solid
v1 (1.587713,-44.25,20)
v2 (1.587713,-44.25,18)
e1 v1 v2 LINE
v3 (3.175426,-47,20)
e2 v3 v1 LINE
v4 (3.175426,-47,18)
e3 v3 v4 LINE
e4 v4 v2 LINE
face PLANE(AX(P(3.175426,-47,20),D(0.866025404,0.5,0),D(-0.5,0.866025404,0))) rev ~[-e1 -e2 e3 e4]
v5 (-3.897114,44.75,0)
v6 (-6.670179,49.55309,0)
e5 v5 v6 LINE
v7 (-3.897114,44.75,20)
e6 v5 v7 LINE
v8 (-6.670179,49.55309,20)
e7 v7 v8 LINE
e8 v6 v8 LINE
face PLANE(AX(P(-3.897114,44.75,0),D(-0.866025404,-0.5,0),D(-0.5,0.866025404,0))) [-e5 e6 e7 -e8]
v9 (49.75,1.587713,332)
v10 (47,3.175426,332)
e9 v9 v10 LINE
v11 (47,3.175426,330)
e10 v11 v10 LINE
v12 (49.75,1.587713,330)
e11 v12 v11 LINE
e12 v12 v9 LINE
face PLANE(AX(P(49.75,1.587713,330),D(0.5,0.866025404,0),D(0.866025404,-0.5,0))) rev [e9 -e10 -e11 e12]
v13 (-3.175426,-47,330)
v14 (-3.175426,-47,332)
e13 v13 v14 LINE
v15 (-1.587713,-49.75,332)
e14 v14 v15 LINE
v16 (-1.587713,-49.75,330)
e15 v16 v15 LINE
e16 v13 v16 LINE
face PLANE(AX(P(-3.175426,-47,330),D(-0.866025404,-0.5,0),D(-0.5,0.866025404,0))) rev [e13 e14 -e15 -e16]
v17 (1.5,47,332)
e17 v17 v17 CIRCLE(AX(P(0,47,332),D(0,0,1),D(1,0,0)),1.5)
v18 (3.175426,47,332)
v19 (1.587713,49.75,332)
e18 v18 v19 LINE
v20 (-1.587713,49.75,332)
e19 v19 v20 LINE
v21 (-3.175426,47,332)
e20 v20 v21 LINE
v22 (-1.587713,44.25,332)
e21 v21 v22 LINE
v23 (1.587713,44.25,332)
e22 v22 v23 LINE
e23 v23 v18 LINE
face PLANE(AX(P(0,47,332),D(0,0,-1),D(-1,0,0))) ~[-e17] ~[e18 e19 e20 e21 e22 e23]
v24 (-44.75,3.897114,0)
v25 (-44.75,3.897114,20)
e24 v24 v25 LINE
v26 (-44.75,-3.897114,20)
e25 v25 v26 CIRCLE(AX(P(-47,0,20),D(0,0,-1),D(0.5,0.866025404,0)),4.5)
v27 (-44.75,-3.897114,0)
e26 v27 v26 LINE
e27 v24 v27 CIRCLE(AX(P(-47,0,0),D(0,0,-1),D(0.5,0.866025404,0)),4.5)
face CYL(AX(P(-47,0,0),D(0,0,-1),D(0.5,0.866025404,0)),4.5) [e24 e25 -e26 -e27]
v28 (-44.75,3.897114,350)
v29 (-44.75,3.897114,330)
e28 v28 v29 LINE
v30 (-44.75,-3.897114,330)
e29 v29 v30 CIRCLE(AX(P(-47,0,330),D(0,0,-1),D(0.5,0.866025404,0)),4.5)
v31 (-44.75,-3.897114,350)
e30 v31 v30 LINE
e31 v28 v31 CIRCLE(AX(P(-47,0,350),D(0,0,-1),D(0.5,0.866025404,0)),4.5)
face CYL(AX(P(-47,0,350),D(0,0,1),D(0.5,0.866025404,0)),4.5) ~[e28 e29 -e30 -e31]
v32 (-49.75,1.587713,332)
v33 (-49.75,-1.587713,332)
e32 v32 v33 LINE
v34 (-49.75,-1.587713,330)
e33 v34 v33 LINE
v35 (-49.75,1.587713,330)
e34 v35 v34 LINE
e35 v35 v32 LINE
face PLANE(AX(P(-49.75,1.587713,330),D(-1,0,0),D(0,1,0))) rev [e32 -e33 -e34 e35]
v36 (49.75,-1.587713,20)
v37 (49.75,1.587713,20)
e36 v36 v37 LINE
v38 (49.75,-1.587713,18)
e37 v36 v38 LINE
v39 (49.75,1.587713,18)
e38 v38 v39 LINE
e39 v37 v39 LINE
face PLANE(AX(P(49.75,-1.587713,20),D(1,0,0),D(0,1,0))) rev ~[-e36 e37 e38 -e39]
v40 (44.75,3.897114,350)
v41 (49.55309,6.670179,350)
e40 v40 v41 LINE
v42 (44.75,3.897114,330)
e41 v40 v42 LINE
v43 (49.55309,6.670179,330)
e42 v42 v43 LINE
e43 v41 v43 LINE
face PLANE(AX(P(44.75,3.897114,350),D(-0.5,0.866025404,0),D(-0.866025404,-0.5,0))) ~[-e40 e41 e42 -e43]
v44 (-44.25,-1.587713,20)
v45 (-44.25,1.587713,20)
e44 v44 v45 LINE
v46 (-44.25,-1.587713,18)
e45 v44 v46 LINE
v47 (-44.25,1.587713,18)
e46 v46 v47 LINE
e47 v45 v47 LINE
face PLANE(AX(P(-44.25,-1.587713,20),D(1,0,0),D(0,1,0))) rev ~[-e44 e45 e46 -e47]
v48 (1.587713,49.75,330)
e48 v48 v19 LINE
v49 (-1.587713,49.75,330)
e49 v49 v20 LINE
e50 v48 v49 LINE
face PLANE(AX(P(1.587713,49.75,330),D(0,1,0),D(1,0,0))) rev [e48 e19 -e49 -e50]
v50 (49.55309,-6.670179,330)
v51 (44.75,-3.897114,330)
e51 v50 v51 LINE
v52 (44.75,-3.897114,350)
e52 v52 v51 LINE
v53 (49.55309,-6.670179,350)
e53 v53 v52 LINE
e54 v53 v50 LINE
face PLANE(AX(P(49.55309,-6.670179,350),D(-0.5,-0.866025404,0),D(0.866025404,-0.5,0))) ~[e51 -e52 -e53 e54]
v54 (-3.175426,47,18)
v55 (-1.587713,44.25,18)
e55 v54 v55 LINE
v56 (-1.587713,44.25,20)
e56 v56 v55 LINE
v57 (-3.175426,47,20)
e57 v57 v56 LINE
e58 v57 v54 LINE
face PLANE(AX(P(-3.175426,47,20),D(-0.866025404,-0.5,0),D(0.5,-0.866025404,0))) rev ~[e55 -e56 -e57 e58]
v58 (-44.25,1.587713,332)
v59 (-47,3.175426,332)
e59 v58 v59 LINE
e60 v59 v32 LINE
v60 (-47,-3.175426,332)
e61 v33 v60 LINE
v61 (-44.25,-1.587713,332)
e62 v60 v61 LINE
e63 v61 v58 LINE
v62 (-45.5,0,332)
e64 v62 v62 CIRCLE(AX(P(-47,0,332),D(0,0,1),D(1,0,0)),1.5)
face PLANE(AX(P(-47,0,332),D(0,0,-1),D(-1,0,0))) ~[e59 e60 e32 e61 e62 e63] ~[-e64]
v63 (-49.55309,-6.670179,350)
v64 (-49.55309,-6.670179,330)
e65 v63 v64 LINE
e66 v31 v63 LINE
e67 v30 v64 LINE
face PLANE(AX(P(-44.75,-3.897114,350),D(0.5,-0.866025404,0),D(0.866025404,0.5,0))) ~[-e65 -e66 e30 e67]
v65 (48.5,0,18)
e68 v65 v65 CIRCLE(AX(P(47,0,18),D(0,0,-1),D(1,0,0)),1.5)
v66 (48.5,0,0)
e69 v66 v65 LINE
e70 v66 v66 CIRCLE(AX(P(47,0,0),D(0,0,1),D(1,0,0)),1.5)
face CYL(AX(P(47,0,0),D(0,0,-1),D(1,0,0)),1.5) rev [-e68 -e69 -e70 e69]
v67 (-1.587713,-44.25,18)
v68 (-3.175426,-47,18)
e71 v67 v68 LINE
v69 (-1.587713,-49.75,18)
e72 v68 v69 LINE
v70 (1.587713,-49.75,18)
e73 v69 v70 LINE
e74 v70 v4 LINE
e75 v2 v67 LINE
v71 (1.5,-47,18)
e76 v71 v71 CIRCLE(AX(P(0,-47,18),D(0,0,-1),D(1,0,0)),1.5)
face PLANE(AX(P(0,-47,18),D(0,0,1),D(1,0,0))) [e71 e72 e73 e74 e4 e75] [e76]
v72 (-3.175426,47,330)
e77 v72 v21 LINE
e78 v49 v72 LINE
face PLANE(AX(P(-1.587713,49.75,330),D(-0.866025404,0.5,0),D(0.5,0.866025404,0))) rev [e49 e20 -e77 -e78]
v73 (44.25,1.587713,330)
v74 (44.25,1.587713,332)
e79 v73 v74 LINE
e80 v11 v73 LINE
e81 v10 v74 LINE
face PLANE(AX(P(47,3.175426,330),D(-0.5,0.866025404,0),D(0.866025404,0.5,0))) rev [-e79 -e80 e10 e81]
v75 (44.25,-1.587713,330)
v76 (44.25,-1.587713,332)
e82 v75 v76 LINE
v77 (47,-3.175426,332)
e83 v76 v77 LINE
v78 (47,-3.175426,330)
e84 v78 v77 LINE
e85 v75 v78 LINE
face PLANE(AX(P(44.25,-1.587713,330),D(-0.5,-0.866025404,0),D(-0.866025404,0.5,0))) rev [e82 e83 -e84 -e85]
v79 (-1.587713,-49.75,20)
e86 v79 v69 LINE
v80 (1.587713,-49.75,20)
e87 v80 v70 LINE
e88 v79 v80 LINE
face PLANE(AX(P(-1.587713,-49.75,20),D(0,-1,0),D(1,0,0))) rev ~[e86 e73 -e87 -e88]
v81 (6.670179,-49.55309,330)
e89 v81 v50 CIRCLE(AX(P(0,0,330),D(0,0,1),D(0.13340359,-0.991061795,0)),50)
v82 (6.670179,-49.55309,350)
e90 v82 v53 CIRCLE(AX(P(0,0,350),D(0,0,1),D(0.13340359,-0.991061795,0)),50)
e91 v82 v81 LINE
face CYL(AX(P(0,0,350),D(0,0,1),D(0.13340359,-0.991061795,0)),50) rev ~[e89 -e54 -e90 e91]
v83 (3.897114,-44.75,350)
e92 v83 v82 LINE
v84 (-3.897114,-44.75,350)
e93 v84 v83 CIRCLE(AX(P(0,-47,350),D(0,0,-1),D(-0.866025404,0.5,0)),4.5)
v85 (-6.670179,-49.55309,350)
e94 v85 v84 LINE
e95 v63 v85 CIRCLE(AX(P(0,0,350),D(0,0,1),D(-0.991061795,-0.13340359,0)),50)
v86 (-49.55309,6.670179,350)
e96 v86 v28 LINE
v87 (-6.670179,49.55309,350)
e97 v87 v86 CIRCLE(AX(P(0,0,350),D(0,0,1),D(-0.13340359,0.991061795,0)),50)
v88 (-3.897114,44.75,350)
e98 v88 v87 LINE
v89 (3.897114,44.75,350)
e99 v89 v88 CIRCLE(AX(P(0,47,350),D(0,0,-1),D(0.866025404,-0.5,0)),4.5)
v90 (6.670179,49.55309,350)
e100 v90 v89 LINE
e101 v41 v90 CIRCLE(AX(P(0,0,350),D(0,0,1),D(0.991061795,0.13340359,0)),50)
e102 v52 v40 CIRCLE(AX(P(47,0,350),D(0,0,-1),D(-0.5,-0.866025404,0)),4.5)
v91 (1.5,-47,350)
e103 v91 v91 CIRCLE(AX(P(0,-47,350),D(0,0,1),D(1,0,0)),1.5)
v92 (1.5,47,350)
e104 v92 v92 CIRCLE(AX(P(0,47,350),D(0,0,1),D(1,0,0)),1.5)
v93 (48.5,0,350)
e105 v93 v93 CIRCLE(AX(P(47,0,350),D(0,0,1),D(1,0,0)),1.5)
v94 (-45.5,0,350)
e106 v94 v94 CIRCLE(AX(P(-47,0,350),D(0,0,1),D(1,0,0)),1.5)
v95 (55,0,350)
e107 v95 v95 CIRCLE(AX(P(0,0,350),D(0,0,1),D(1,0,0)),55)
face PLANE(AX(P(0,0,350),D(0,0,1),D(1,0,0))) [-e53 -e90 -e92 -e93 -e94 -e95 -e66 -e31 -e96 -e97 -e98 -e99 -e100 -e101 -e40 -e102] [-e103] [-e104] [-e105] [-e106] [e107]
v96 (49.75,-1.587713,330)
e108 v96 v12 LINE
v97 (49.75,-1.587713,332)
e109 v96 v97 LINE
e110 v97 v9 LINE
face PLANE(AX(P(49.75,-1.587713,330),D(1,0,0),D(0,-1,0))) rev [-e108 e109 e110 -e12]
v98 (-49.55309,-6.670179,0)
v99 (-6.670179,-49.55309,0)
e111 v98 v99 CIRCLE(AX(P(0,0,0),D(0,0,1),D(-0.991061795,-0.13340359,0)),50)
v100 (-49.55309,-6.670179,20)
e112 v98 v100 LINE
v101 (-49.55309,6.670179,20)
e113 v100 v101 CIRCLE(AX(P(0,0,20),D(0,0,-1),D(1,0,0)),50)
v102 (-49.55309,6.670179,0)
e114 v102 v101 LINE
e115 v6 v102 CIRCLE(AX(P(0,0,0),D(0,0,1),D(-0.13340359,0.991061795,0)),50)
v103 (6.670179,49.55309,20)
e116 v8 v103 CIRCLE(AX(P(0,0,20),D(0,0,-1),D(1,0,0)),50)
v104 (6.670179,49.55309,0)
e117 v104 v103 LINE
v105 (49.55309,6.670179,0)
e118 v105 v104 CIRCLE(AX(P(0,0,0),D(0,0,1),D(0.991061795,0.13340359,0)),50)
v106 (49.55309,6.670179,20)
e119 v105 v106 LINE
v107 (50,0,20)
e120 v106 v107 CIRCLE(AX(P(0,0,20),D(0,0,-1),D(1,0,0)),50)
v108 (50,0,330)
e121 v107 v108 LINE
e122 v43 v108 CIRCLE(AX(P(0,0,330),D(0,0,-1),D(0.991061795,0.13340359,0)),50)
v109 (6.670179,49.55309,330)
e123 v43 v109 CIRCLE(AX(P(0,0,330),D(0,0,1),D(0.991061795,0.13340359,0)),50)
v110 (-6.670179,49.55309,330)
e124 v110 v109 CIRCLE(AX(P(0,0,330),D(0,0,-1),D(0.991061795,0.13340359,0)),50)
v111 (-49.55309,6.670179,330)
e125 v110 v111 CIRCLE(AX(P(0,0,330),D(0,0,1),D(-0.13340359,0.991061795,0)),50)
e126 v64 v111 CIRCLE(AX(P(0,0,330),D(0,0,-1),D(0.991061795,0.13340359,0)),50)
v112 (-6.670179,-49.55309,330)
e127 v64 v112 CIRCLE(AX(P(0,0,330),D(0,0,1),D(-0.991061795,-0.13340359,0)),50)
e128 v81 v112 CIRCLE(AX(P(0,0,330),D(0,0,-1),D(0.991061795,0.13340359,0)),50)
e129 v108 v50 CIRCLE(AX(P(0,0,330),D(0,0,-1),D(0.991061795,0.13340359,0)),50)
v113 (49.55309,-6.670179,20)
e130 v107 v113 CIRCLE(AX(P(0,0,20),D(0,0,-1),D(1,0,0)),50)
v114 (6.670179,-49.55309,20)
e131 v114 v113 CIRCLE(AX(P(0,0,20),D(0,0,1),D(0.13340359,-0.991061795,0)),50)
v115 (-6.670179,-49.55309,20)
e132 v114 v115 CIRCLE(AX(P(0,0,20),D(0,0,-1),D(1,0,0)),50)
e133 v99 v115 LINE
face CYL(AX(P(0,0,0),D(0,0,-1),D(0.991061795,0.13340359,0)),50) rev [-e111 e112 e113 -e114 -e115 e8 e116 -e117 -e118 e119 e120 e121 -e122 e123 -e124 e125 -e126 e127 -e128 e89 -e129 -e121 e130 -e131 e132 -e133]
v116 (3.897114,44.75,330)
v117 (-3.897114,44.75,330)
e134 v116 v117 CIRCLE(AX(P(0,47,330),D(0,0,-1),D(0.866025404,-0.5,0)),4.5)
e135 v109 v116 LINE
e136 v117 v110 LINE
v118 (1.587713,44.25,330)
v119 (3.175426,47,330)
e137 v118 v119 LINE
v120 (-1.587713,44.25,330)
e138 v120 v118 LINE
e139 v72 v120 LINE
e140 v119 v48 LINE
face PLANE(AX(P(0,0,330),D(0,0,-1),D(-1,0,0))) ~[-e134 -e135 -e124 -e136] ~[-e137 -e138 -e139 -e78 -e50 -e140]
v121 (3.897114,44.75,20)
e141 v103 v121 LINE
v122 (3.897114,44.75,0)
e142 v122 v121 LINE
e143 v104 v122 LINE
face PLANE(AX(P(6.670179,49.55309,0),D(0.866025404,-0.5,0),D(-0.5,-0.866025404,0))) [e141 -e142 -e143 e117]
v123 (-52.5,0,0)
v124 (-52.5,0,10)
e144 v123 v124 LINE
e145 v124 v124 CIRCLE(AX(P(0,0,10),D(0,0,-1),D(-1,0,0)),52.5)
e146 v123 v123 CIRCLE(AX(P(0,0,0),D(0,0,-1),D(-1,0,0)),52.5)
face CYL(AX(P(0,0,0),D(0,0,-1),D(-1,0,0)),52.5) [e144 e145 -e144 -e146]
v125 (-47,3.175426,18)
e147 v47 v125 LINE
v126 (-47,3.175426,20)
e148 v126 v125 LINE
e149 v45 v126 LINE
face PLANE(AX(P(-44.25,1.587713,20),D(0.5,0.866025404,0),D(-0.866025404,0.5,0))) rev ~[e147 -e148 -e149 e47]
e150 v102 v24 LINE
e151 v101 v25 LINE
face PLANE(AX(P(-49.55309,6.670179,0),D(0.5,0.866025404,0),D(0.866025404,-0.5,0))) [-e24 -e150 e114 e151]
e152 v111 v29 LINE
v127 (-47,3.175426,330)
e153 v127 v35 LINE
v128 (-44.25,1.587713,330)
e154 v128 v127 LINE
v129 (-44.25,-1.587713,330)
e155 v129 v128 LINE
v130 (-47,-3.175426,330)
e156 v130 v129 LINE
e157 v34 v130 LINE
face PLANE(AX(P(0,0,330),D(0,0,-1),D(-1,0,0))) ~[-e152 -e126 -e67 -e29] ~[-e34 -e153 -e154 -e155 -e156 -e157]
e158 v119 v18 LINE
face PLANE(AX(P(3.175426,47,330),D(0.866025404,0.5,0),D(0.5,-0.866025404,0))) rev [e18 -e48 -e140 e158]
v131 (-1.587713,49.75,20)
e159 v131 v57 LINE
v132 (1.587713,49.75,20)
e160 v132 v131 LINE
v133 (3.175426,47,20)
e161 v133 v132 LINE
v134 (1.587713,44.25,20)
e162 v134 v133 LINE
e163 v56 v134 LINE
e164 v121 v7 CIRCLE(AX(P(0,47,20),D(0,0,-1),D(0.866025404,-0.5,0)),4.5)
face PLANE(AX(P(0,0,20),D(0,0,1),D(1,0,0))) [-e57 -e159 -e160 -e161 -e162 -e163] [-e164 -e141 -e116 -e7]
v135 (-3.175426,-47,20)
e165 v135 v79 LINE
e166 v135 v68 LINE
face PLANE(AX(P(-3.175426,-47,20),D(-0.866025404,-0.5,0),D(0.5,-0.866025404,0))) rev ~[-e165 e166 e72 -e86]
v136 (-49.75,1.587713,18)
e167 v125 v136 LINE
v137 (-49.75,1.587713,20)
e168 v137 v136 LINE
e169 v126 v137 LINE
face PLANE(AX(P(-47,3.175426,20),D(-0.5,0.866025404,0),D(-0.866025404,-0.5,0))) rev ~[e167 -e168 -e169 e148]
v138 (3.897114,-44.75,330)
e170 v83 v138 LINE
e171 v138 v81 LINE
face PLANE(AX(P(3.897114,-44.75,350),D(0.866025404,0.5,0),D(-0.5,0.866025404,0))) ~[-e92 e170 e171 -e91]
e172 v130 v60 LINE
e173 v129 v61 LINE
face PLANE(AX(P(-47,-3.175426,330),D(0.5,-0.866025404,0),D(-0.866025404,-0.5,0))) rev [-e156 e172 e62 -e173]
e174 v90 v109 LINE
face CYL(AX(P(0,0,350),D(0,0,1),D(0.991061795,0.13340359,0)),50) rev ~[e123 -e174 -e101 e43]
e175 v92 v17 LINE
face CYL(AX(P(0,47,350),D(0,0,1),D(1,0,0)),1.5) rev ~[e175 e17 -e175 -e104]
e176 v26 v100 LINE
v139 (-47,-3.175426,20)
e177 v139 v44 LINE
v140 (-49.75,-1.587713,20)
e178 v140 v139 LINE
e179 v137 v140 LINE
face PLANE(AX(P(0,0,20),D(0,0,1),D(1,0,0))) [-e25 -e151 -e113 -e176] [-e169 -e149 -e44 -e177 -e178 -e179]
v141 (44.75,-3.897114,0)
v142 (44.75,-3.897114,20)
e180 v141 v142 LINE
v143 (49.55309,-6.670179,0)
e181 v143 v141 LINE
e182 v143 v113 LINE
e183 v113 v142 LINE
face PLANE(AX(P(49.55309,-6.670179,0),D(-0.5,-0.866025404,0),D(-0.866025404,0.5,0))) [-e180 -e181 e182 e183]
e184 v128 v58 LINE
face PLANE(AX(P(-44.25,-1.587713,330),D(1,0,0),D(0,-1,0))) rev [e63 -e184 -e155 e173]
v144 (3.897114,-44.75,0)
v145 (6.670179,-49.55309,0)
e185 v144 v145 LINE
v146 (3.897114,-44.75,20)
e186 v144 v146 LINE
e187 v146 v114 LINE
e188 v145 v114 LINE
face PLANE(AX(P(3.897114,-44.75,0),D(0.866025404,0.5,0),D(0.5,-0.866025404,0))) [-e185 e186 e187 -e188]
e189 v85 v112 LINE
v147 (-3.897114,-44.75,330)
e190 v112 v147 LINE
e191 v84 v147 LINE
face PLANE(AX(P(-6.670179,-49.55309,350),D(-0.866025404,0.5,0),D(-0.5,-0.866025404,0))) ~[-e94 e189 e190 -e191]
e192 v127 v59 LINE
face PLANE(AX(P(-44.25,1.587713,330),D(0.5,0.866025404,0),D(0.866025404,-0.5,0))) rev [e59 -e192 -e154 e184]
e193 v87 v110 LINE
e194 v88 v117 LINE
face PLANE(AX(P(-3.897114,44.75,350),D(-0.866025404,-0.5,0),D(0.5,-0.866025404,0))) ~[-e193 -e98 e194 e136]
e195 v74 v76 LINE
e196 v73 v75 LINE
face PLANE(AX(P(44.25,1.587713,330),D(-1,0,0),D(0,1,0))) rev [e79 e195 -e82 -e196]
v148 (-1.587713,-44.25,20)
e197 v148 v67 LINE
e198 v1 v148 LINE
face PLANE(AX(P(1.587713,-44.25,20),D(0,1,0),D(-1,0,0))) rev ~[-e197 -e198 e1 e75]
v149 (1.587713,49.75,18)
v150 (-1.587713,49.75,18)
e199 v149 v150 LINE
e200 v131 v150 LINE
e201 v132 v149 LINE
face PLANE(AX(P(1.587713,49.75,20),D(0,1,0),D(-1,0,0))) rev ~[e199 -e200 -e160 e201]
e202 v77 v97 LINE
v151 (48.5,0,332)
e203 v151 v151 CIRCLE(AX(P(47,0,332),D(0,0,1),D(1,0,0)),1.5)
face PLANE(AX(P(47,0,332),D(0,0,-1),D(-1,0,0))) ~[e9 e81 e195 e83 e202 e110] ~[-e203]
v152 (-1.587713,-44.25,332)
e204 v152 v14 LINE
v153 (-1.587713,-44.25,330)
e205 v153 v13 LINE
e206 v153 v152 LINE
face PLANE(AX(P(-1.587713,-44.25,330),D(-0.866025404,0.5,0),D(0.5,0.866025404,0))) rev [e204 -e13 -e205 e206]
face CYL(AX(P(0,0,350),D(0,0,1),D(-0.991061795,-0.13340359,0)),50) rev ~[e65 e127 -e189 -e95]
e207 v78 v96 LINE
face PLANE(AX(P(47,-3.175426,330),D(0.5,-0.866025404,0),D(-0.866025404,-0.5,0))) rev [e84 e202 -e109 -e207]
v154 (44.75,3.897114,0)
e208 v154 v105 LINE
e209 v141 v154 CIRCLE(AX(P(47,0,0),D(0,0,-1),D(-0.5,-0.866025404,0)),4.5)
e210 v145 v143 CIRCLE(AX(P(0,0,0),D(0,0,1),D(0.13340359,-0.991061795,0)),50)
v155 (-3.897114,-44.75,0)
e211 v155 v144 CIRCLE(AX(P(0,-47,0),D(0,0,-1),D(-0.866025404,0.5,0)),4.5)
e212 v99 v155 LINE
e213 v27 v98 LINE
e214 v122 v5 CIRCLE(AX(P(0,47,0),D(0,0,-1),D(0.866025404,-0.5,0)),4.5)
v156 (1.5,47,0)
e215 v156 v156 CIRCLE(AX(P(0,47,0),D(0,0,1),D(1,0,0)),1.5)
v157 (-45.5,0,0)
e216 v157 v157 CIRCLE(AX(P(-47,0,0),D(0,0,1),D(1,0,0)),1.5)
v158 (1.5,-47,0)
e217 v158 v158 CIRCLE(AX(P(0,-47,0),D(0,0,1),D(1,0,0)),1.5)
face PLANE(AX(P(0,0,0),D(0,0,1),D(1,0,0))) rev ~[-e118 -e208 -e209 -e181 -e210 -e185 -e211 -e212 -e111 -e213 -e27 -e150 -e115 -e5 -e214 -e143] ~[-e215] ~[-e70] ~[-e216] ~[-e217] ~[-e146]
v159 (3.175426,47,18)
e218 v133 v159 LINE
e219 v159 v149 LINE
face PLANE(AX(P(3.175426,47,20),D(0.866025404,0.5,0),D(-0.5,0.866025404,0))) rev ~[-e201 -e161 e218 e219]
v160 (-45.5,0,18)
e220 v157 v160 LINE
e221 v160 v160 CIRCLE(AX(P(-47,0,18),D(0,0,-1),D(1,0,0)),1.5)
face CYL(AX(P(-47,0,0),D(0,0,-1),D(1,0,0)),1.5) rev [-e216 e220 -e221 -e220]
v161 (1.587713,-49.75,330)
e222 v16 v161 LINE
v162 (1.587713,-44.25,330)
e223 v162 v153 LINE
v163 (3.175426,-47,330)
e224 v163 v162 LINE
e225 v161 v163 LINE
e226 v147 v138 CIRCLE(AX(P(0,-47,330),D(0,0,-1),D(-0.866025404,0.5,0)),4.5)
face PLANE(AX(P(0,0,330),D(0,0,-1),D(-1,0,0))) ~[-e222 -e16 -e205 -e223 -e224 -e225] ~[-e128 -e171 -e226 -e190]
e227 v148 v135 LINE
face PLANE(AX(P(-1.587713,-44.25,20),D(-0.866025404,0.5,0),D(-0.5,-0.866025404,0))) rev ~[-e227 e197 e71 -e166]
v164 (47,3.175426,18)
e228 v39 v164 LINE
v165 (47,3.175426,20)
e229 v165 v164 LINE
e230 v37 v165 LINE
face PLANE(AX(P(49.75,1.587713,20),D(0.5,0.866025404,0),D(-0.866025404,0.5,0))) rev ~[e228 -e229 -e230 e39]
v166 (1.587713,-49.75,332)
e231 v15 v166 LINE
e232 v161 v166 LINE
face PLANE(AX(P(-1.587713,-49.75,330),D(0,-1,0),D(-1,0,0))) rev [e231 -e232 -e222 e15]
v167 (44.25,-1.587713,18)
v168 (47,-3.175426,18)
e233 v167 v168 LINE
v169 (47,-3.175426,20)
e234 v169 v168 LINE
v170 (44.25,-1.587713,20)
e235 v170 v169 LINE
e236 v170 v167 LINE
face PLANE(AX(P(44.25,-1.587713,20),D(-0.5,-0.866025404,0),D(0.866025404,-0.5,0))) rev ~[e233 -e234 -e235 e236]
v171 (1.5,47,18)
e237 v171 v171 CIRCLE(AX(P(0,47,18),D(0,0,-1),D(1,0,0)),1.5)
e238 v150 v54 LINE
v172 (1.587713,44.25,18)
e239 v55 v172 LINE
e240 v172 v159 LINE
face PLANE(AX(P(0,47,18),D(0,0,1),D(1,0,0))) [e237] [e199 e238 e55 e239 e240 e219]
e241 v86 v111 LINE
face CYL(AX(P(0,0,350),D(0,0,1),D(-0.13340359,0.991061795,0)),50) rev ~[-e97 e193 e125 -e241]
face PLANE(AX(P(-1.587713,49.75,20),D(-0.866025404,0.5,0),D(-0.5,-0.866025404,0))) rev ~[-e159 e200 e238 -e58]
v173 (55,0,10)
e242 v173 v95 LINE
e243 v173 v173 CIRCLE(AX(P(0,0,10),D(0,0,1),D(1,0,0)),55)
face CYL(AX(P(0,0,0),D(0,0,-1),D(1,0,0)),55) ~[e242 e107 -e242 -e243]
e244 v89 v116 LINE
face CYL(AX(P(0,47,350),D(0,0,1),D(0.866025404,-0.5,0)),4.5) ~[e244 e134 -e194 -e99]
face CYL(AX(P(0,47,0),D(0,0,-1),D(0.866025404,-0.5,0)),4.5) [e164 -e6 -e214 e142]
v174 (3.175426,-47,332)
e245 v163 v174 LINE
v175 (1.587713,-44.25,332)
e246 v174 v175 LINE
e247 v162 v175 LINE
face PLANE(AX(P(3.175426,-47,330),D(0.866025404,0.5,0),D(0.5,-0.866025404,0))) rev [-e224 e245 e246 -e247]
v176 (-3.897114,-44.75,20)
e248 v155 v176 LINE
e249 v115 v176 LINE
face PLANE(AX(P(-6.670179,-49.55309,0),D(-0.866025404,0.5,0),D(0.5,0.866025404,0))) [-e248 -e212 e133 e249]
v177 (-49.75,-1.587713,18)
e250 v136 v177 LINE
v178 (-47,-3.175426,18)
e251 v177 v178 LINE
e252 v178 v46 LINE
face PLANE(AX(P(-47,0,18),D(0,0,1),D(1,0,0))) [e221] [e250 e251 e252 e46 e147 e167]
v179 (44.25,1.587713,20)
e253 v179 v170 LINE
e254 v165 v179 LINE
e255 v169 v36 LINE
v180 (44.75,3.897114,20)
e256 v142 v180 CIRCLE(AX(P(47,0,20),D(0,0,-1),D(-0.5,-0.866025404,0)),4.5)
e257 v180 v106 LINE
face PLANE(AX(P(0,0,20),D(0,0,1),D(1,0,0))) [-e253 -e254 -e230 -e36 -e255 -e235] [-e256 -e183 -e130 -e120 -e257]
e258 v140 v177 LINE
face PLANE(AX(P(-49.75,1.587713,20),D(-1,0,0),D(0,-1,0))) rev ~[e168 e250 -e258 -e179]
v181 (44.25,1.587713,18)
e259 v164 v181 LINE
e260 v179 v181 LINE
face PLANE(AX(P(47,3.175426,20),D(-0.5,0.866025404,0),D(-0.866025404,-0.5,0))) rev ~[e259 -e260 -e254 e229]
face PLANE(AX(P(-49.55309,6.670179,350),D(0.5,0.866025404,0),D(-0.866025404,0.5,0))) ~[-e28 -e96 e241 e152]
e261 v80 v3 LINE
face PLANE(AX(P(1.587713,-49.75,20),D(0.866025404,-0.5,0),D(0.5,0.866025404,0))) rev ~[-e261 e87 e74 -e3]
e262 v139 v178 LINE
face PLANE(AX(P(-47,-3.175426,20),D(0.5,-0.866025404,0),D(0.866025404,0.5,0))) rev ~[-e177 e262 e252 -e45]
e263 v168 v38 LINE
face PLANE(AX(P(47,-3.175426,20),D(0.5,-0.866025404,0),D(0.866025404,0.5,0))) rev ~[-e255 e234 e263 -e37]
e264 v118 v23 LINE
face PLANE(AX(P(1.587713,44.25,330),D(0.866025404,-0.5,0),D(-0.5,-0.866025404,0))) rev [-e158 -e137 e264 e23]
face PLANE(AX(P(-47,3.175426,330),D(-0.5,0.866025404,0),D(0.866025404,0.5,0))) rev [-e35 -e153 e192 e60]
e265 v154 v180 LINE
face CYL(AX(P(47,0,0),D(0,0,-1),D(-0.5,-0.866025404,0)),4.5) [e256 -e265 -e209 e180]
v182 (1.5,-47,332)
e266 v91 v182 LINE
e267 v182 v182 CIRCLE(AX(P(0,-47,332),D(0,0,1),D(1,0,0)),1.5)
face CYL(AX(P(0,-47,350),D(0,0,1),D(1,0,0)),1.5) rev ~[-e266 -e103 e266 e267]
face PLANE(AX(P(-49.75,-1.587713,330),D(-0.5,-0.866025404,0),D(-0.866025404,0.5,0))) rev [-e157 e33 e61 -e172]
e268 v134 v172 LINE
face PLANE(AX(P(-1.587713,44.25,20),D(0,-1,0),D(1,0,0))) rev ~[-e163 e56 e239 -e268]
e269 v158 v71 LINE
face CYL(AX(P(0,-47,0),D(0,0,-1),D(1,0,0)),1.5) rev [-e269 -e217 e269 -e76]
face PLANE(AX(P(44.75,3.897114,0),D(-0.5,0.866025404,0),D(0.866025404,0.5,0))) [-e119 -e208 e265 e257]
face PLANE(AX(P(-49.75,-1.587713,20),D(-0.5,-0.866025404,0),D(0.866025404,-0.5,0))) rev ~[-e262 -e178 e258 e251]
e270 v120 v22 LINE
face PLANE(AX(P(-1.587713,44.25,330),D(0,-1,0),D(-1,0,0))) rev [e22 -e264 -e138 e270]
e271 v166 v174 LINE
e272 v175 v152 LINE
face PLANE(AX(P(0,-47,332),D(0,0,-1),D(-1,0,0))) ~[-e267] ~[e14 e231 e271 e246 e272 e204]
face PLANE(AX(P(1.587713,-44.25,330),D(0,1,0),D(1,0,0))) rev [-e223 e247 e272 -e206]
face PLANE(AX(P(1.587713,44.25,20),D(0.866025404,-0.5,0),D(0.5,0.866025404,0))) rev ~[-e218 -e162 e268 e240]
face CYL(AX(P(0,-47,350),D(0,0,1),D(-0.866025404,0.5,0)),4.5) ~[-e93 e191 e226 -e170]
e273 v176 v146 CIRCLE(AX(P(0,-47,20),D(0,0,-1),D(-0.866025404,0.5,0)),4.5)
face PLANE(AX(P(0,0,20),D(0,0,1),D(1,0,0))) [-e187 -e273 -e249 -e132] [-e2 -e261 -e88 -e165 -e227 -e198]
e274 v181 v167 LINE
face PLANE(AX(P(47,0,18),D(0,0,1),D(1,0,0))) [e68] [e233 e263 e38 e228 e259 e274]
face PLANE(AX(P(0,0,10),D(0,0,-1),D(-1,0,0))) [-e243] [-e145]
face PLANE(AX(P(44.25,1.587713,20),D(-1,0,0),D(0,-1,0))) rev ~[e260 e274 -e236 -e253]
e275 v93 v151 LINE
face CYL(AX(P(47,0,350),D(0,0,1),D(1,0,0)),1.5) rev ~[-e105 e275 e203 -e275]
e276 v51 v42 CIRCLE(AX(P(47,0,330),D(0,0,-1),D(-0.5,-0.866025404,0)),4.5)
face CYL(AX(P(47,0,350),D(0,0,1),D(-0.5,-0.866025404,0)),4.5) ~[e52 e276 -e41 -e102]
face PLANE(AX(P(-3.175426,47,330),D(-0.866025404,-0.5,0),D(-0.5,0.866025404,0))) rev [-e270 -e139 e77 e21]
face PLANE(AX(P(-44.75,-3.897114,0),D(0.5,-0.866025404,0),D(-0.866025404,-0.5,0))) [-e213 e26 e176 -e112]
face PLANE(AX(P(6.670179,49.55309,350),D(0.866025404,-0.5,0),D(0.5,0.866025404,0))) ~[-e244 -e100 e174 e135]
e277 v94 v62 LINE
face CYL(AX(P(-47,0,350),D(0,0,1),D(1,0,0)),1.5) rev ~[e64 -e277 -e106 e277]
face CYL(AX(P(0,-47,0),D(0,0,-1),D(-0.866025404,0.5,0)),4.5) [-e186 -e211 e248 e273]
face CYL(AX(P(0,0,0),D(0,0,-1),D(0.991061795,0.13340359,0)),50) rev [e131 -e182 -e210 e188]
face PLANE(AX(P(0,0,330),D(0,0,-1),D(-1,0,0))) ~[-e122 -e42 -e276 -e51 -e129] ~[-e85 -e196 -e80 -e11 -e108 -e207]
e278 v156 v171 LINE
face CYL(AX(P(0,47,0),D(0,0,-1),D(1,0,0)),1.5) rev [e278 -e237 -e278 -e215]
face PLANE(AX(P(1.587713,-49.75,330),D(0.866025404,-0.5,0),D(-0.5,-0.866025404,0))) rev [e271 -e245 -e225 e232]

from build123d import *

# Parameters (mm, degrees)
SKETCH_2_R          = 55
SKETCH_2_R_2        = 50
EXTRUDE_1_DEPTH     = 350
SKETCH_1_R          = 55
SKETCH_1_R_2        = 1.5
EXTRUDE_2_DEPTH     = 20
CUT_EXTRUDE_1_DEPTH = 2
SKETCH_4_R          = 55
SKETCH_4_R_2        = 52.5
CUT_EXTRUDE_2_DEPTH = 10


with BuildPart() as part:
    # 草图2 → 凸台-拉伸1 (new body)
    with BuildSketch(Plane.XY):
        Circle(SKETCH_2_R)
        Circle(SKETCH_2_R_2, mode=Mode.SUBTRACT)
    extrude(amount=EXTRUDE_1_DEPTH)

    # 草图1 → 凸台-拉伸2 (add)
    with BuildSketch(Plane.XY):
        Circle(SKETCH_1_R)
        with Locations((0, -47)):
            Circle(SKETCH_1_R_2, mode=Mode.SUBTRACT)
        with Locations((47, 0)):
            Circle(SKETCH_1_R_2, mode=Mode.SUBTRACT)
        with Locations((0, 47)):
            Circle(SKETCH_1_R_2, mode=Mode.SUBTRACT)
        with Locations((-47, 0)):
            Circle(SKETCH_1_R_2, mode=Mode.SUBTRACT)
        with BuildLine():
            Line((-6.670179488, -49.553089768), (-3.897114317, -44.75))
            ThreePointArc((-3.897114317, -44.75), (0, -42.5), (3.897114317, -44.75))
            Line((3.897114317, -44.75), (6.670179488, -49.553089768))
            ThreePointArc((6.670179488, -49.553089768), (35.355339059, -35.355339059), (49.553089768, -6.670179488))
            Line((49.553089768, -6.670179488), (44.75, -3.897114317))
            ThreePointArc((44.75, -3.897114317), (42.5, 0), (44.75, 3.897114317))
            Line((44.75, 3.897114317), (49.553089768, 6.670179488))
            ThreePointArc((49.553089768, 6.670179488), (35.355339059, 35.355339059), (6.670179488, 49.553089768))
            Line((6.670179488, 49.553089768), (3.897114317, 44.75))
            ThreePointArc((3.897114317, 44.75), (0, 42.5), (-3.897114317, 44.75))
            Line((-3.897114317, 44.75), (-6.670179488, 49.553089768))
            ThreePointArc((-6.670179488, 49.553089768), (-35.355339059, 35.355339059), (-49.553089768, 6.670179488))
            Line((-49.553089768, 6.670179488), (-44.75, 3.897114317))
            ThreePointArc((-44.75, 3.897114317), (-42.5, 0), (-44.75, -3.897114317))
            Line((-44.75, -3.897114317), (-49.553089768, -6.670179488))
            ThreePointArc((-49.553089768, -6.670179488), (-35.355339059, -35.355339059), (-6.670179488, -49.553089768))
        make_face(mode=Mode.SUBTRACT)
    extrude_2 = extrude(amount=EXTRUDE_2_DEPTH)

    # 草图3 → 切除-拉伸1 (cut)
    with BuildSketch(Plane.XY.offset(20)):
        Polygon((-1.58771324, 44.25), (1.58771324, 44.25), (3.175426481, 47), (1.58771324, 49.75), (-1.58771324, 49.75), (-3.175426481, 47), align=None)
        Polygon((-44.25, -1.58771324), (-44.25, 1.58771324), (-47, 3.175426481), (-49.75, 1.58771324), (-49.75, -1.58771324), (-47, -3.175426481), align=None)
        Polygon((44.25, 1.58771324), (44.25, -1.58771324), (47, -3.175426481), (49.75, -1.58771324), (49.75, 1.58771324), (47, 3.175426481), align=None)
        Polygon((1.58771324, -44.25), (-1.58771324, -44.25), (-3.175426481, -47), (-1.58771324, -49.75), (1.58771324, -49.75), (3.175426481, -47), align=None)
    cut_extrude_1 = extrude(amount=-CUT_EXTRUDE_1_DEPTH, mode=Mode.SUBTRACT)

    # 镜向1: 凸台-拉伸2, 切除-拉伸1 across plane
    add(extrude_2.mirror(Plane(origin=(0, 0, 175), x_dir=(1, 0, 0), z_dir=(0, 0, -1))))
    add(cut_extrude_1.mirror(Plane(origin=(0, 0, 175), x_dir=(1, 0, 0), z_dir=(0, 0, -1))), mode=Mode.SUBTRACT)

    # 草图4 → 切除-拉伸2 (cut)
    with BuildSketch(Plane(origin=(0, 0, 0), x_dir=(-1, 0, 0), z_dir=(0, 0, -1))):
        Circle(SKETCH_4_R)
        Circle(SKETCH_4_R_2, mode=Mode.SUBTRACT)
    extrude(amount=-CUT_EXTRUDE_2_DEPTH, mode=Mode.SUBTRACT)


solid = part.part
